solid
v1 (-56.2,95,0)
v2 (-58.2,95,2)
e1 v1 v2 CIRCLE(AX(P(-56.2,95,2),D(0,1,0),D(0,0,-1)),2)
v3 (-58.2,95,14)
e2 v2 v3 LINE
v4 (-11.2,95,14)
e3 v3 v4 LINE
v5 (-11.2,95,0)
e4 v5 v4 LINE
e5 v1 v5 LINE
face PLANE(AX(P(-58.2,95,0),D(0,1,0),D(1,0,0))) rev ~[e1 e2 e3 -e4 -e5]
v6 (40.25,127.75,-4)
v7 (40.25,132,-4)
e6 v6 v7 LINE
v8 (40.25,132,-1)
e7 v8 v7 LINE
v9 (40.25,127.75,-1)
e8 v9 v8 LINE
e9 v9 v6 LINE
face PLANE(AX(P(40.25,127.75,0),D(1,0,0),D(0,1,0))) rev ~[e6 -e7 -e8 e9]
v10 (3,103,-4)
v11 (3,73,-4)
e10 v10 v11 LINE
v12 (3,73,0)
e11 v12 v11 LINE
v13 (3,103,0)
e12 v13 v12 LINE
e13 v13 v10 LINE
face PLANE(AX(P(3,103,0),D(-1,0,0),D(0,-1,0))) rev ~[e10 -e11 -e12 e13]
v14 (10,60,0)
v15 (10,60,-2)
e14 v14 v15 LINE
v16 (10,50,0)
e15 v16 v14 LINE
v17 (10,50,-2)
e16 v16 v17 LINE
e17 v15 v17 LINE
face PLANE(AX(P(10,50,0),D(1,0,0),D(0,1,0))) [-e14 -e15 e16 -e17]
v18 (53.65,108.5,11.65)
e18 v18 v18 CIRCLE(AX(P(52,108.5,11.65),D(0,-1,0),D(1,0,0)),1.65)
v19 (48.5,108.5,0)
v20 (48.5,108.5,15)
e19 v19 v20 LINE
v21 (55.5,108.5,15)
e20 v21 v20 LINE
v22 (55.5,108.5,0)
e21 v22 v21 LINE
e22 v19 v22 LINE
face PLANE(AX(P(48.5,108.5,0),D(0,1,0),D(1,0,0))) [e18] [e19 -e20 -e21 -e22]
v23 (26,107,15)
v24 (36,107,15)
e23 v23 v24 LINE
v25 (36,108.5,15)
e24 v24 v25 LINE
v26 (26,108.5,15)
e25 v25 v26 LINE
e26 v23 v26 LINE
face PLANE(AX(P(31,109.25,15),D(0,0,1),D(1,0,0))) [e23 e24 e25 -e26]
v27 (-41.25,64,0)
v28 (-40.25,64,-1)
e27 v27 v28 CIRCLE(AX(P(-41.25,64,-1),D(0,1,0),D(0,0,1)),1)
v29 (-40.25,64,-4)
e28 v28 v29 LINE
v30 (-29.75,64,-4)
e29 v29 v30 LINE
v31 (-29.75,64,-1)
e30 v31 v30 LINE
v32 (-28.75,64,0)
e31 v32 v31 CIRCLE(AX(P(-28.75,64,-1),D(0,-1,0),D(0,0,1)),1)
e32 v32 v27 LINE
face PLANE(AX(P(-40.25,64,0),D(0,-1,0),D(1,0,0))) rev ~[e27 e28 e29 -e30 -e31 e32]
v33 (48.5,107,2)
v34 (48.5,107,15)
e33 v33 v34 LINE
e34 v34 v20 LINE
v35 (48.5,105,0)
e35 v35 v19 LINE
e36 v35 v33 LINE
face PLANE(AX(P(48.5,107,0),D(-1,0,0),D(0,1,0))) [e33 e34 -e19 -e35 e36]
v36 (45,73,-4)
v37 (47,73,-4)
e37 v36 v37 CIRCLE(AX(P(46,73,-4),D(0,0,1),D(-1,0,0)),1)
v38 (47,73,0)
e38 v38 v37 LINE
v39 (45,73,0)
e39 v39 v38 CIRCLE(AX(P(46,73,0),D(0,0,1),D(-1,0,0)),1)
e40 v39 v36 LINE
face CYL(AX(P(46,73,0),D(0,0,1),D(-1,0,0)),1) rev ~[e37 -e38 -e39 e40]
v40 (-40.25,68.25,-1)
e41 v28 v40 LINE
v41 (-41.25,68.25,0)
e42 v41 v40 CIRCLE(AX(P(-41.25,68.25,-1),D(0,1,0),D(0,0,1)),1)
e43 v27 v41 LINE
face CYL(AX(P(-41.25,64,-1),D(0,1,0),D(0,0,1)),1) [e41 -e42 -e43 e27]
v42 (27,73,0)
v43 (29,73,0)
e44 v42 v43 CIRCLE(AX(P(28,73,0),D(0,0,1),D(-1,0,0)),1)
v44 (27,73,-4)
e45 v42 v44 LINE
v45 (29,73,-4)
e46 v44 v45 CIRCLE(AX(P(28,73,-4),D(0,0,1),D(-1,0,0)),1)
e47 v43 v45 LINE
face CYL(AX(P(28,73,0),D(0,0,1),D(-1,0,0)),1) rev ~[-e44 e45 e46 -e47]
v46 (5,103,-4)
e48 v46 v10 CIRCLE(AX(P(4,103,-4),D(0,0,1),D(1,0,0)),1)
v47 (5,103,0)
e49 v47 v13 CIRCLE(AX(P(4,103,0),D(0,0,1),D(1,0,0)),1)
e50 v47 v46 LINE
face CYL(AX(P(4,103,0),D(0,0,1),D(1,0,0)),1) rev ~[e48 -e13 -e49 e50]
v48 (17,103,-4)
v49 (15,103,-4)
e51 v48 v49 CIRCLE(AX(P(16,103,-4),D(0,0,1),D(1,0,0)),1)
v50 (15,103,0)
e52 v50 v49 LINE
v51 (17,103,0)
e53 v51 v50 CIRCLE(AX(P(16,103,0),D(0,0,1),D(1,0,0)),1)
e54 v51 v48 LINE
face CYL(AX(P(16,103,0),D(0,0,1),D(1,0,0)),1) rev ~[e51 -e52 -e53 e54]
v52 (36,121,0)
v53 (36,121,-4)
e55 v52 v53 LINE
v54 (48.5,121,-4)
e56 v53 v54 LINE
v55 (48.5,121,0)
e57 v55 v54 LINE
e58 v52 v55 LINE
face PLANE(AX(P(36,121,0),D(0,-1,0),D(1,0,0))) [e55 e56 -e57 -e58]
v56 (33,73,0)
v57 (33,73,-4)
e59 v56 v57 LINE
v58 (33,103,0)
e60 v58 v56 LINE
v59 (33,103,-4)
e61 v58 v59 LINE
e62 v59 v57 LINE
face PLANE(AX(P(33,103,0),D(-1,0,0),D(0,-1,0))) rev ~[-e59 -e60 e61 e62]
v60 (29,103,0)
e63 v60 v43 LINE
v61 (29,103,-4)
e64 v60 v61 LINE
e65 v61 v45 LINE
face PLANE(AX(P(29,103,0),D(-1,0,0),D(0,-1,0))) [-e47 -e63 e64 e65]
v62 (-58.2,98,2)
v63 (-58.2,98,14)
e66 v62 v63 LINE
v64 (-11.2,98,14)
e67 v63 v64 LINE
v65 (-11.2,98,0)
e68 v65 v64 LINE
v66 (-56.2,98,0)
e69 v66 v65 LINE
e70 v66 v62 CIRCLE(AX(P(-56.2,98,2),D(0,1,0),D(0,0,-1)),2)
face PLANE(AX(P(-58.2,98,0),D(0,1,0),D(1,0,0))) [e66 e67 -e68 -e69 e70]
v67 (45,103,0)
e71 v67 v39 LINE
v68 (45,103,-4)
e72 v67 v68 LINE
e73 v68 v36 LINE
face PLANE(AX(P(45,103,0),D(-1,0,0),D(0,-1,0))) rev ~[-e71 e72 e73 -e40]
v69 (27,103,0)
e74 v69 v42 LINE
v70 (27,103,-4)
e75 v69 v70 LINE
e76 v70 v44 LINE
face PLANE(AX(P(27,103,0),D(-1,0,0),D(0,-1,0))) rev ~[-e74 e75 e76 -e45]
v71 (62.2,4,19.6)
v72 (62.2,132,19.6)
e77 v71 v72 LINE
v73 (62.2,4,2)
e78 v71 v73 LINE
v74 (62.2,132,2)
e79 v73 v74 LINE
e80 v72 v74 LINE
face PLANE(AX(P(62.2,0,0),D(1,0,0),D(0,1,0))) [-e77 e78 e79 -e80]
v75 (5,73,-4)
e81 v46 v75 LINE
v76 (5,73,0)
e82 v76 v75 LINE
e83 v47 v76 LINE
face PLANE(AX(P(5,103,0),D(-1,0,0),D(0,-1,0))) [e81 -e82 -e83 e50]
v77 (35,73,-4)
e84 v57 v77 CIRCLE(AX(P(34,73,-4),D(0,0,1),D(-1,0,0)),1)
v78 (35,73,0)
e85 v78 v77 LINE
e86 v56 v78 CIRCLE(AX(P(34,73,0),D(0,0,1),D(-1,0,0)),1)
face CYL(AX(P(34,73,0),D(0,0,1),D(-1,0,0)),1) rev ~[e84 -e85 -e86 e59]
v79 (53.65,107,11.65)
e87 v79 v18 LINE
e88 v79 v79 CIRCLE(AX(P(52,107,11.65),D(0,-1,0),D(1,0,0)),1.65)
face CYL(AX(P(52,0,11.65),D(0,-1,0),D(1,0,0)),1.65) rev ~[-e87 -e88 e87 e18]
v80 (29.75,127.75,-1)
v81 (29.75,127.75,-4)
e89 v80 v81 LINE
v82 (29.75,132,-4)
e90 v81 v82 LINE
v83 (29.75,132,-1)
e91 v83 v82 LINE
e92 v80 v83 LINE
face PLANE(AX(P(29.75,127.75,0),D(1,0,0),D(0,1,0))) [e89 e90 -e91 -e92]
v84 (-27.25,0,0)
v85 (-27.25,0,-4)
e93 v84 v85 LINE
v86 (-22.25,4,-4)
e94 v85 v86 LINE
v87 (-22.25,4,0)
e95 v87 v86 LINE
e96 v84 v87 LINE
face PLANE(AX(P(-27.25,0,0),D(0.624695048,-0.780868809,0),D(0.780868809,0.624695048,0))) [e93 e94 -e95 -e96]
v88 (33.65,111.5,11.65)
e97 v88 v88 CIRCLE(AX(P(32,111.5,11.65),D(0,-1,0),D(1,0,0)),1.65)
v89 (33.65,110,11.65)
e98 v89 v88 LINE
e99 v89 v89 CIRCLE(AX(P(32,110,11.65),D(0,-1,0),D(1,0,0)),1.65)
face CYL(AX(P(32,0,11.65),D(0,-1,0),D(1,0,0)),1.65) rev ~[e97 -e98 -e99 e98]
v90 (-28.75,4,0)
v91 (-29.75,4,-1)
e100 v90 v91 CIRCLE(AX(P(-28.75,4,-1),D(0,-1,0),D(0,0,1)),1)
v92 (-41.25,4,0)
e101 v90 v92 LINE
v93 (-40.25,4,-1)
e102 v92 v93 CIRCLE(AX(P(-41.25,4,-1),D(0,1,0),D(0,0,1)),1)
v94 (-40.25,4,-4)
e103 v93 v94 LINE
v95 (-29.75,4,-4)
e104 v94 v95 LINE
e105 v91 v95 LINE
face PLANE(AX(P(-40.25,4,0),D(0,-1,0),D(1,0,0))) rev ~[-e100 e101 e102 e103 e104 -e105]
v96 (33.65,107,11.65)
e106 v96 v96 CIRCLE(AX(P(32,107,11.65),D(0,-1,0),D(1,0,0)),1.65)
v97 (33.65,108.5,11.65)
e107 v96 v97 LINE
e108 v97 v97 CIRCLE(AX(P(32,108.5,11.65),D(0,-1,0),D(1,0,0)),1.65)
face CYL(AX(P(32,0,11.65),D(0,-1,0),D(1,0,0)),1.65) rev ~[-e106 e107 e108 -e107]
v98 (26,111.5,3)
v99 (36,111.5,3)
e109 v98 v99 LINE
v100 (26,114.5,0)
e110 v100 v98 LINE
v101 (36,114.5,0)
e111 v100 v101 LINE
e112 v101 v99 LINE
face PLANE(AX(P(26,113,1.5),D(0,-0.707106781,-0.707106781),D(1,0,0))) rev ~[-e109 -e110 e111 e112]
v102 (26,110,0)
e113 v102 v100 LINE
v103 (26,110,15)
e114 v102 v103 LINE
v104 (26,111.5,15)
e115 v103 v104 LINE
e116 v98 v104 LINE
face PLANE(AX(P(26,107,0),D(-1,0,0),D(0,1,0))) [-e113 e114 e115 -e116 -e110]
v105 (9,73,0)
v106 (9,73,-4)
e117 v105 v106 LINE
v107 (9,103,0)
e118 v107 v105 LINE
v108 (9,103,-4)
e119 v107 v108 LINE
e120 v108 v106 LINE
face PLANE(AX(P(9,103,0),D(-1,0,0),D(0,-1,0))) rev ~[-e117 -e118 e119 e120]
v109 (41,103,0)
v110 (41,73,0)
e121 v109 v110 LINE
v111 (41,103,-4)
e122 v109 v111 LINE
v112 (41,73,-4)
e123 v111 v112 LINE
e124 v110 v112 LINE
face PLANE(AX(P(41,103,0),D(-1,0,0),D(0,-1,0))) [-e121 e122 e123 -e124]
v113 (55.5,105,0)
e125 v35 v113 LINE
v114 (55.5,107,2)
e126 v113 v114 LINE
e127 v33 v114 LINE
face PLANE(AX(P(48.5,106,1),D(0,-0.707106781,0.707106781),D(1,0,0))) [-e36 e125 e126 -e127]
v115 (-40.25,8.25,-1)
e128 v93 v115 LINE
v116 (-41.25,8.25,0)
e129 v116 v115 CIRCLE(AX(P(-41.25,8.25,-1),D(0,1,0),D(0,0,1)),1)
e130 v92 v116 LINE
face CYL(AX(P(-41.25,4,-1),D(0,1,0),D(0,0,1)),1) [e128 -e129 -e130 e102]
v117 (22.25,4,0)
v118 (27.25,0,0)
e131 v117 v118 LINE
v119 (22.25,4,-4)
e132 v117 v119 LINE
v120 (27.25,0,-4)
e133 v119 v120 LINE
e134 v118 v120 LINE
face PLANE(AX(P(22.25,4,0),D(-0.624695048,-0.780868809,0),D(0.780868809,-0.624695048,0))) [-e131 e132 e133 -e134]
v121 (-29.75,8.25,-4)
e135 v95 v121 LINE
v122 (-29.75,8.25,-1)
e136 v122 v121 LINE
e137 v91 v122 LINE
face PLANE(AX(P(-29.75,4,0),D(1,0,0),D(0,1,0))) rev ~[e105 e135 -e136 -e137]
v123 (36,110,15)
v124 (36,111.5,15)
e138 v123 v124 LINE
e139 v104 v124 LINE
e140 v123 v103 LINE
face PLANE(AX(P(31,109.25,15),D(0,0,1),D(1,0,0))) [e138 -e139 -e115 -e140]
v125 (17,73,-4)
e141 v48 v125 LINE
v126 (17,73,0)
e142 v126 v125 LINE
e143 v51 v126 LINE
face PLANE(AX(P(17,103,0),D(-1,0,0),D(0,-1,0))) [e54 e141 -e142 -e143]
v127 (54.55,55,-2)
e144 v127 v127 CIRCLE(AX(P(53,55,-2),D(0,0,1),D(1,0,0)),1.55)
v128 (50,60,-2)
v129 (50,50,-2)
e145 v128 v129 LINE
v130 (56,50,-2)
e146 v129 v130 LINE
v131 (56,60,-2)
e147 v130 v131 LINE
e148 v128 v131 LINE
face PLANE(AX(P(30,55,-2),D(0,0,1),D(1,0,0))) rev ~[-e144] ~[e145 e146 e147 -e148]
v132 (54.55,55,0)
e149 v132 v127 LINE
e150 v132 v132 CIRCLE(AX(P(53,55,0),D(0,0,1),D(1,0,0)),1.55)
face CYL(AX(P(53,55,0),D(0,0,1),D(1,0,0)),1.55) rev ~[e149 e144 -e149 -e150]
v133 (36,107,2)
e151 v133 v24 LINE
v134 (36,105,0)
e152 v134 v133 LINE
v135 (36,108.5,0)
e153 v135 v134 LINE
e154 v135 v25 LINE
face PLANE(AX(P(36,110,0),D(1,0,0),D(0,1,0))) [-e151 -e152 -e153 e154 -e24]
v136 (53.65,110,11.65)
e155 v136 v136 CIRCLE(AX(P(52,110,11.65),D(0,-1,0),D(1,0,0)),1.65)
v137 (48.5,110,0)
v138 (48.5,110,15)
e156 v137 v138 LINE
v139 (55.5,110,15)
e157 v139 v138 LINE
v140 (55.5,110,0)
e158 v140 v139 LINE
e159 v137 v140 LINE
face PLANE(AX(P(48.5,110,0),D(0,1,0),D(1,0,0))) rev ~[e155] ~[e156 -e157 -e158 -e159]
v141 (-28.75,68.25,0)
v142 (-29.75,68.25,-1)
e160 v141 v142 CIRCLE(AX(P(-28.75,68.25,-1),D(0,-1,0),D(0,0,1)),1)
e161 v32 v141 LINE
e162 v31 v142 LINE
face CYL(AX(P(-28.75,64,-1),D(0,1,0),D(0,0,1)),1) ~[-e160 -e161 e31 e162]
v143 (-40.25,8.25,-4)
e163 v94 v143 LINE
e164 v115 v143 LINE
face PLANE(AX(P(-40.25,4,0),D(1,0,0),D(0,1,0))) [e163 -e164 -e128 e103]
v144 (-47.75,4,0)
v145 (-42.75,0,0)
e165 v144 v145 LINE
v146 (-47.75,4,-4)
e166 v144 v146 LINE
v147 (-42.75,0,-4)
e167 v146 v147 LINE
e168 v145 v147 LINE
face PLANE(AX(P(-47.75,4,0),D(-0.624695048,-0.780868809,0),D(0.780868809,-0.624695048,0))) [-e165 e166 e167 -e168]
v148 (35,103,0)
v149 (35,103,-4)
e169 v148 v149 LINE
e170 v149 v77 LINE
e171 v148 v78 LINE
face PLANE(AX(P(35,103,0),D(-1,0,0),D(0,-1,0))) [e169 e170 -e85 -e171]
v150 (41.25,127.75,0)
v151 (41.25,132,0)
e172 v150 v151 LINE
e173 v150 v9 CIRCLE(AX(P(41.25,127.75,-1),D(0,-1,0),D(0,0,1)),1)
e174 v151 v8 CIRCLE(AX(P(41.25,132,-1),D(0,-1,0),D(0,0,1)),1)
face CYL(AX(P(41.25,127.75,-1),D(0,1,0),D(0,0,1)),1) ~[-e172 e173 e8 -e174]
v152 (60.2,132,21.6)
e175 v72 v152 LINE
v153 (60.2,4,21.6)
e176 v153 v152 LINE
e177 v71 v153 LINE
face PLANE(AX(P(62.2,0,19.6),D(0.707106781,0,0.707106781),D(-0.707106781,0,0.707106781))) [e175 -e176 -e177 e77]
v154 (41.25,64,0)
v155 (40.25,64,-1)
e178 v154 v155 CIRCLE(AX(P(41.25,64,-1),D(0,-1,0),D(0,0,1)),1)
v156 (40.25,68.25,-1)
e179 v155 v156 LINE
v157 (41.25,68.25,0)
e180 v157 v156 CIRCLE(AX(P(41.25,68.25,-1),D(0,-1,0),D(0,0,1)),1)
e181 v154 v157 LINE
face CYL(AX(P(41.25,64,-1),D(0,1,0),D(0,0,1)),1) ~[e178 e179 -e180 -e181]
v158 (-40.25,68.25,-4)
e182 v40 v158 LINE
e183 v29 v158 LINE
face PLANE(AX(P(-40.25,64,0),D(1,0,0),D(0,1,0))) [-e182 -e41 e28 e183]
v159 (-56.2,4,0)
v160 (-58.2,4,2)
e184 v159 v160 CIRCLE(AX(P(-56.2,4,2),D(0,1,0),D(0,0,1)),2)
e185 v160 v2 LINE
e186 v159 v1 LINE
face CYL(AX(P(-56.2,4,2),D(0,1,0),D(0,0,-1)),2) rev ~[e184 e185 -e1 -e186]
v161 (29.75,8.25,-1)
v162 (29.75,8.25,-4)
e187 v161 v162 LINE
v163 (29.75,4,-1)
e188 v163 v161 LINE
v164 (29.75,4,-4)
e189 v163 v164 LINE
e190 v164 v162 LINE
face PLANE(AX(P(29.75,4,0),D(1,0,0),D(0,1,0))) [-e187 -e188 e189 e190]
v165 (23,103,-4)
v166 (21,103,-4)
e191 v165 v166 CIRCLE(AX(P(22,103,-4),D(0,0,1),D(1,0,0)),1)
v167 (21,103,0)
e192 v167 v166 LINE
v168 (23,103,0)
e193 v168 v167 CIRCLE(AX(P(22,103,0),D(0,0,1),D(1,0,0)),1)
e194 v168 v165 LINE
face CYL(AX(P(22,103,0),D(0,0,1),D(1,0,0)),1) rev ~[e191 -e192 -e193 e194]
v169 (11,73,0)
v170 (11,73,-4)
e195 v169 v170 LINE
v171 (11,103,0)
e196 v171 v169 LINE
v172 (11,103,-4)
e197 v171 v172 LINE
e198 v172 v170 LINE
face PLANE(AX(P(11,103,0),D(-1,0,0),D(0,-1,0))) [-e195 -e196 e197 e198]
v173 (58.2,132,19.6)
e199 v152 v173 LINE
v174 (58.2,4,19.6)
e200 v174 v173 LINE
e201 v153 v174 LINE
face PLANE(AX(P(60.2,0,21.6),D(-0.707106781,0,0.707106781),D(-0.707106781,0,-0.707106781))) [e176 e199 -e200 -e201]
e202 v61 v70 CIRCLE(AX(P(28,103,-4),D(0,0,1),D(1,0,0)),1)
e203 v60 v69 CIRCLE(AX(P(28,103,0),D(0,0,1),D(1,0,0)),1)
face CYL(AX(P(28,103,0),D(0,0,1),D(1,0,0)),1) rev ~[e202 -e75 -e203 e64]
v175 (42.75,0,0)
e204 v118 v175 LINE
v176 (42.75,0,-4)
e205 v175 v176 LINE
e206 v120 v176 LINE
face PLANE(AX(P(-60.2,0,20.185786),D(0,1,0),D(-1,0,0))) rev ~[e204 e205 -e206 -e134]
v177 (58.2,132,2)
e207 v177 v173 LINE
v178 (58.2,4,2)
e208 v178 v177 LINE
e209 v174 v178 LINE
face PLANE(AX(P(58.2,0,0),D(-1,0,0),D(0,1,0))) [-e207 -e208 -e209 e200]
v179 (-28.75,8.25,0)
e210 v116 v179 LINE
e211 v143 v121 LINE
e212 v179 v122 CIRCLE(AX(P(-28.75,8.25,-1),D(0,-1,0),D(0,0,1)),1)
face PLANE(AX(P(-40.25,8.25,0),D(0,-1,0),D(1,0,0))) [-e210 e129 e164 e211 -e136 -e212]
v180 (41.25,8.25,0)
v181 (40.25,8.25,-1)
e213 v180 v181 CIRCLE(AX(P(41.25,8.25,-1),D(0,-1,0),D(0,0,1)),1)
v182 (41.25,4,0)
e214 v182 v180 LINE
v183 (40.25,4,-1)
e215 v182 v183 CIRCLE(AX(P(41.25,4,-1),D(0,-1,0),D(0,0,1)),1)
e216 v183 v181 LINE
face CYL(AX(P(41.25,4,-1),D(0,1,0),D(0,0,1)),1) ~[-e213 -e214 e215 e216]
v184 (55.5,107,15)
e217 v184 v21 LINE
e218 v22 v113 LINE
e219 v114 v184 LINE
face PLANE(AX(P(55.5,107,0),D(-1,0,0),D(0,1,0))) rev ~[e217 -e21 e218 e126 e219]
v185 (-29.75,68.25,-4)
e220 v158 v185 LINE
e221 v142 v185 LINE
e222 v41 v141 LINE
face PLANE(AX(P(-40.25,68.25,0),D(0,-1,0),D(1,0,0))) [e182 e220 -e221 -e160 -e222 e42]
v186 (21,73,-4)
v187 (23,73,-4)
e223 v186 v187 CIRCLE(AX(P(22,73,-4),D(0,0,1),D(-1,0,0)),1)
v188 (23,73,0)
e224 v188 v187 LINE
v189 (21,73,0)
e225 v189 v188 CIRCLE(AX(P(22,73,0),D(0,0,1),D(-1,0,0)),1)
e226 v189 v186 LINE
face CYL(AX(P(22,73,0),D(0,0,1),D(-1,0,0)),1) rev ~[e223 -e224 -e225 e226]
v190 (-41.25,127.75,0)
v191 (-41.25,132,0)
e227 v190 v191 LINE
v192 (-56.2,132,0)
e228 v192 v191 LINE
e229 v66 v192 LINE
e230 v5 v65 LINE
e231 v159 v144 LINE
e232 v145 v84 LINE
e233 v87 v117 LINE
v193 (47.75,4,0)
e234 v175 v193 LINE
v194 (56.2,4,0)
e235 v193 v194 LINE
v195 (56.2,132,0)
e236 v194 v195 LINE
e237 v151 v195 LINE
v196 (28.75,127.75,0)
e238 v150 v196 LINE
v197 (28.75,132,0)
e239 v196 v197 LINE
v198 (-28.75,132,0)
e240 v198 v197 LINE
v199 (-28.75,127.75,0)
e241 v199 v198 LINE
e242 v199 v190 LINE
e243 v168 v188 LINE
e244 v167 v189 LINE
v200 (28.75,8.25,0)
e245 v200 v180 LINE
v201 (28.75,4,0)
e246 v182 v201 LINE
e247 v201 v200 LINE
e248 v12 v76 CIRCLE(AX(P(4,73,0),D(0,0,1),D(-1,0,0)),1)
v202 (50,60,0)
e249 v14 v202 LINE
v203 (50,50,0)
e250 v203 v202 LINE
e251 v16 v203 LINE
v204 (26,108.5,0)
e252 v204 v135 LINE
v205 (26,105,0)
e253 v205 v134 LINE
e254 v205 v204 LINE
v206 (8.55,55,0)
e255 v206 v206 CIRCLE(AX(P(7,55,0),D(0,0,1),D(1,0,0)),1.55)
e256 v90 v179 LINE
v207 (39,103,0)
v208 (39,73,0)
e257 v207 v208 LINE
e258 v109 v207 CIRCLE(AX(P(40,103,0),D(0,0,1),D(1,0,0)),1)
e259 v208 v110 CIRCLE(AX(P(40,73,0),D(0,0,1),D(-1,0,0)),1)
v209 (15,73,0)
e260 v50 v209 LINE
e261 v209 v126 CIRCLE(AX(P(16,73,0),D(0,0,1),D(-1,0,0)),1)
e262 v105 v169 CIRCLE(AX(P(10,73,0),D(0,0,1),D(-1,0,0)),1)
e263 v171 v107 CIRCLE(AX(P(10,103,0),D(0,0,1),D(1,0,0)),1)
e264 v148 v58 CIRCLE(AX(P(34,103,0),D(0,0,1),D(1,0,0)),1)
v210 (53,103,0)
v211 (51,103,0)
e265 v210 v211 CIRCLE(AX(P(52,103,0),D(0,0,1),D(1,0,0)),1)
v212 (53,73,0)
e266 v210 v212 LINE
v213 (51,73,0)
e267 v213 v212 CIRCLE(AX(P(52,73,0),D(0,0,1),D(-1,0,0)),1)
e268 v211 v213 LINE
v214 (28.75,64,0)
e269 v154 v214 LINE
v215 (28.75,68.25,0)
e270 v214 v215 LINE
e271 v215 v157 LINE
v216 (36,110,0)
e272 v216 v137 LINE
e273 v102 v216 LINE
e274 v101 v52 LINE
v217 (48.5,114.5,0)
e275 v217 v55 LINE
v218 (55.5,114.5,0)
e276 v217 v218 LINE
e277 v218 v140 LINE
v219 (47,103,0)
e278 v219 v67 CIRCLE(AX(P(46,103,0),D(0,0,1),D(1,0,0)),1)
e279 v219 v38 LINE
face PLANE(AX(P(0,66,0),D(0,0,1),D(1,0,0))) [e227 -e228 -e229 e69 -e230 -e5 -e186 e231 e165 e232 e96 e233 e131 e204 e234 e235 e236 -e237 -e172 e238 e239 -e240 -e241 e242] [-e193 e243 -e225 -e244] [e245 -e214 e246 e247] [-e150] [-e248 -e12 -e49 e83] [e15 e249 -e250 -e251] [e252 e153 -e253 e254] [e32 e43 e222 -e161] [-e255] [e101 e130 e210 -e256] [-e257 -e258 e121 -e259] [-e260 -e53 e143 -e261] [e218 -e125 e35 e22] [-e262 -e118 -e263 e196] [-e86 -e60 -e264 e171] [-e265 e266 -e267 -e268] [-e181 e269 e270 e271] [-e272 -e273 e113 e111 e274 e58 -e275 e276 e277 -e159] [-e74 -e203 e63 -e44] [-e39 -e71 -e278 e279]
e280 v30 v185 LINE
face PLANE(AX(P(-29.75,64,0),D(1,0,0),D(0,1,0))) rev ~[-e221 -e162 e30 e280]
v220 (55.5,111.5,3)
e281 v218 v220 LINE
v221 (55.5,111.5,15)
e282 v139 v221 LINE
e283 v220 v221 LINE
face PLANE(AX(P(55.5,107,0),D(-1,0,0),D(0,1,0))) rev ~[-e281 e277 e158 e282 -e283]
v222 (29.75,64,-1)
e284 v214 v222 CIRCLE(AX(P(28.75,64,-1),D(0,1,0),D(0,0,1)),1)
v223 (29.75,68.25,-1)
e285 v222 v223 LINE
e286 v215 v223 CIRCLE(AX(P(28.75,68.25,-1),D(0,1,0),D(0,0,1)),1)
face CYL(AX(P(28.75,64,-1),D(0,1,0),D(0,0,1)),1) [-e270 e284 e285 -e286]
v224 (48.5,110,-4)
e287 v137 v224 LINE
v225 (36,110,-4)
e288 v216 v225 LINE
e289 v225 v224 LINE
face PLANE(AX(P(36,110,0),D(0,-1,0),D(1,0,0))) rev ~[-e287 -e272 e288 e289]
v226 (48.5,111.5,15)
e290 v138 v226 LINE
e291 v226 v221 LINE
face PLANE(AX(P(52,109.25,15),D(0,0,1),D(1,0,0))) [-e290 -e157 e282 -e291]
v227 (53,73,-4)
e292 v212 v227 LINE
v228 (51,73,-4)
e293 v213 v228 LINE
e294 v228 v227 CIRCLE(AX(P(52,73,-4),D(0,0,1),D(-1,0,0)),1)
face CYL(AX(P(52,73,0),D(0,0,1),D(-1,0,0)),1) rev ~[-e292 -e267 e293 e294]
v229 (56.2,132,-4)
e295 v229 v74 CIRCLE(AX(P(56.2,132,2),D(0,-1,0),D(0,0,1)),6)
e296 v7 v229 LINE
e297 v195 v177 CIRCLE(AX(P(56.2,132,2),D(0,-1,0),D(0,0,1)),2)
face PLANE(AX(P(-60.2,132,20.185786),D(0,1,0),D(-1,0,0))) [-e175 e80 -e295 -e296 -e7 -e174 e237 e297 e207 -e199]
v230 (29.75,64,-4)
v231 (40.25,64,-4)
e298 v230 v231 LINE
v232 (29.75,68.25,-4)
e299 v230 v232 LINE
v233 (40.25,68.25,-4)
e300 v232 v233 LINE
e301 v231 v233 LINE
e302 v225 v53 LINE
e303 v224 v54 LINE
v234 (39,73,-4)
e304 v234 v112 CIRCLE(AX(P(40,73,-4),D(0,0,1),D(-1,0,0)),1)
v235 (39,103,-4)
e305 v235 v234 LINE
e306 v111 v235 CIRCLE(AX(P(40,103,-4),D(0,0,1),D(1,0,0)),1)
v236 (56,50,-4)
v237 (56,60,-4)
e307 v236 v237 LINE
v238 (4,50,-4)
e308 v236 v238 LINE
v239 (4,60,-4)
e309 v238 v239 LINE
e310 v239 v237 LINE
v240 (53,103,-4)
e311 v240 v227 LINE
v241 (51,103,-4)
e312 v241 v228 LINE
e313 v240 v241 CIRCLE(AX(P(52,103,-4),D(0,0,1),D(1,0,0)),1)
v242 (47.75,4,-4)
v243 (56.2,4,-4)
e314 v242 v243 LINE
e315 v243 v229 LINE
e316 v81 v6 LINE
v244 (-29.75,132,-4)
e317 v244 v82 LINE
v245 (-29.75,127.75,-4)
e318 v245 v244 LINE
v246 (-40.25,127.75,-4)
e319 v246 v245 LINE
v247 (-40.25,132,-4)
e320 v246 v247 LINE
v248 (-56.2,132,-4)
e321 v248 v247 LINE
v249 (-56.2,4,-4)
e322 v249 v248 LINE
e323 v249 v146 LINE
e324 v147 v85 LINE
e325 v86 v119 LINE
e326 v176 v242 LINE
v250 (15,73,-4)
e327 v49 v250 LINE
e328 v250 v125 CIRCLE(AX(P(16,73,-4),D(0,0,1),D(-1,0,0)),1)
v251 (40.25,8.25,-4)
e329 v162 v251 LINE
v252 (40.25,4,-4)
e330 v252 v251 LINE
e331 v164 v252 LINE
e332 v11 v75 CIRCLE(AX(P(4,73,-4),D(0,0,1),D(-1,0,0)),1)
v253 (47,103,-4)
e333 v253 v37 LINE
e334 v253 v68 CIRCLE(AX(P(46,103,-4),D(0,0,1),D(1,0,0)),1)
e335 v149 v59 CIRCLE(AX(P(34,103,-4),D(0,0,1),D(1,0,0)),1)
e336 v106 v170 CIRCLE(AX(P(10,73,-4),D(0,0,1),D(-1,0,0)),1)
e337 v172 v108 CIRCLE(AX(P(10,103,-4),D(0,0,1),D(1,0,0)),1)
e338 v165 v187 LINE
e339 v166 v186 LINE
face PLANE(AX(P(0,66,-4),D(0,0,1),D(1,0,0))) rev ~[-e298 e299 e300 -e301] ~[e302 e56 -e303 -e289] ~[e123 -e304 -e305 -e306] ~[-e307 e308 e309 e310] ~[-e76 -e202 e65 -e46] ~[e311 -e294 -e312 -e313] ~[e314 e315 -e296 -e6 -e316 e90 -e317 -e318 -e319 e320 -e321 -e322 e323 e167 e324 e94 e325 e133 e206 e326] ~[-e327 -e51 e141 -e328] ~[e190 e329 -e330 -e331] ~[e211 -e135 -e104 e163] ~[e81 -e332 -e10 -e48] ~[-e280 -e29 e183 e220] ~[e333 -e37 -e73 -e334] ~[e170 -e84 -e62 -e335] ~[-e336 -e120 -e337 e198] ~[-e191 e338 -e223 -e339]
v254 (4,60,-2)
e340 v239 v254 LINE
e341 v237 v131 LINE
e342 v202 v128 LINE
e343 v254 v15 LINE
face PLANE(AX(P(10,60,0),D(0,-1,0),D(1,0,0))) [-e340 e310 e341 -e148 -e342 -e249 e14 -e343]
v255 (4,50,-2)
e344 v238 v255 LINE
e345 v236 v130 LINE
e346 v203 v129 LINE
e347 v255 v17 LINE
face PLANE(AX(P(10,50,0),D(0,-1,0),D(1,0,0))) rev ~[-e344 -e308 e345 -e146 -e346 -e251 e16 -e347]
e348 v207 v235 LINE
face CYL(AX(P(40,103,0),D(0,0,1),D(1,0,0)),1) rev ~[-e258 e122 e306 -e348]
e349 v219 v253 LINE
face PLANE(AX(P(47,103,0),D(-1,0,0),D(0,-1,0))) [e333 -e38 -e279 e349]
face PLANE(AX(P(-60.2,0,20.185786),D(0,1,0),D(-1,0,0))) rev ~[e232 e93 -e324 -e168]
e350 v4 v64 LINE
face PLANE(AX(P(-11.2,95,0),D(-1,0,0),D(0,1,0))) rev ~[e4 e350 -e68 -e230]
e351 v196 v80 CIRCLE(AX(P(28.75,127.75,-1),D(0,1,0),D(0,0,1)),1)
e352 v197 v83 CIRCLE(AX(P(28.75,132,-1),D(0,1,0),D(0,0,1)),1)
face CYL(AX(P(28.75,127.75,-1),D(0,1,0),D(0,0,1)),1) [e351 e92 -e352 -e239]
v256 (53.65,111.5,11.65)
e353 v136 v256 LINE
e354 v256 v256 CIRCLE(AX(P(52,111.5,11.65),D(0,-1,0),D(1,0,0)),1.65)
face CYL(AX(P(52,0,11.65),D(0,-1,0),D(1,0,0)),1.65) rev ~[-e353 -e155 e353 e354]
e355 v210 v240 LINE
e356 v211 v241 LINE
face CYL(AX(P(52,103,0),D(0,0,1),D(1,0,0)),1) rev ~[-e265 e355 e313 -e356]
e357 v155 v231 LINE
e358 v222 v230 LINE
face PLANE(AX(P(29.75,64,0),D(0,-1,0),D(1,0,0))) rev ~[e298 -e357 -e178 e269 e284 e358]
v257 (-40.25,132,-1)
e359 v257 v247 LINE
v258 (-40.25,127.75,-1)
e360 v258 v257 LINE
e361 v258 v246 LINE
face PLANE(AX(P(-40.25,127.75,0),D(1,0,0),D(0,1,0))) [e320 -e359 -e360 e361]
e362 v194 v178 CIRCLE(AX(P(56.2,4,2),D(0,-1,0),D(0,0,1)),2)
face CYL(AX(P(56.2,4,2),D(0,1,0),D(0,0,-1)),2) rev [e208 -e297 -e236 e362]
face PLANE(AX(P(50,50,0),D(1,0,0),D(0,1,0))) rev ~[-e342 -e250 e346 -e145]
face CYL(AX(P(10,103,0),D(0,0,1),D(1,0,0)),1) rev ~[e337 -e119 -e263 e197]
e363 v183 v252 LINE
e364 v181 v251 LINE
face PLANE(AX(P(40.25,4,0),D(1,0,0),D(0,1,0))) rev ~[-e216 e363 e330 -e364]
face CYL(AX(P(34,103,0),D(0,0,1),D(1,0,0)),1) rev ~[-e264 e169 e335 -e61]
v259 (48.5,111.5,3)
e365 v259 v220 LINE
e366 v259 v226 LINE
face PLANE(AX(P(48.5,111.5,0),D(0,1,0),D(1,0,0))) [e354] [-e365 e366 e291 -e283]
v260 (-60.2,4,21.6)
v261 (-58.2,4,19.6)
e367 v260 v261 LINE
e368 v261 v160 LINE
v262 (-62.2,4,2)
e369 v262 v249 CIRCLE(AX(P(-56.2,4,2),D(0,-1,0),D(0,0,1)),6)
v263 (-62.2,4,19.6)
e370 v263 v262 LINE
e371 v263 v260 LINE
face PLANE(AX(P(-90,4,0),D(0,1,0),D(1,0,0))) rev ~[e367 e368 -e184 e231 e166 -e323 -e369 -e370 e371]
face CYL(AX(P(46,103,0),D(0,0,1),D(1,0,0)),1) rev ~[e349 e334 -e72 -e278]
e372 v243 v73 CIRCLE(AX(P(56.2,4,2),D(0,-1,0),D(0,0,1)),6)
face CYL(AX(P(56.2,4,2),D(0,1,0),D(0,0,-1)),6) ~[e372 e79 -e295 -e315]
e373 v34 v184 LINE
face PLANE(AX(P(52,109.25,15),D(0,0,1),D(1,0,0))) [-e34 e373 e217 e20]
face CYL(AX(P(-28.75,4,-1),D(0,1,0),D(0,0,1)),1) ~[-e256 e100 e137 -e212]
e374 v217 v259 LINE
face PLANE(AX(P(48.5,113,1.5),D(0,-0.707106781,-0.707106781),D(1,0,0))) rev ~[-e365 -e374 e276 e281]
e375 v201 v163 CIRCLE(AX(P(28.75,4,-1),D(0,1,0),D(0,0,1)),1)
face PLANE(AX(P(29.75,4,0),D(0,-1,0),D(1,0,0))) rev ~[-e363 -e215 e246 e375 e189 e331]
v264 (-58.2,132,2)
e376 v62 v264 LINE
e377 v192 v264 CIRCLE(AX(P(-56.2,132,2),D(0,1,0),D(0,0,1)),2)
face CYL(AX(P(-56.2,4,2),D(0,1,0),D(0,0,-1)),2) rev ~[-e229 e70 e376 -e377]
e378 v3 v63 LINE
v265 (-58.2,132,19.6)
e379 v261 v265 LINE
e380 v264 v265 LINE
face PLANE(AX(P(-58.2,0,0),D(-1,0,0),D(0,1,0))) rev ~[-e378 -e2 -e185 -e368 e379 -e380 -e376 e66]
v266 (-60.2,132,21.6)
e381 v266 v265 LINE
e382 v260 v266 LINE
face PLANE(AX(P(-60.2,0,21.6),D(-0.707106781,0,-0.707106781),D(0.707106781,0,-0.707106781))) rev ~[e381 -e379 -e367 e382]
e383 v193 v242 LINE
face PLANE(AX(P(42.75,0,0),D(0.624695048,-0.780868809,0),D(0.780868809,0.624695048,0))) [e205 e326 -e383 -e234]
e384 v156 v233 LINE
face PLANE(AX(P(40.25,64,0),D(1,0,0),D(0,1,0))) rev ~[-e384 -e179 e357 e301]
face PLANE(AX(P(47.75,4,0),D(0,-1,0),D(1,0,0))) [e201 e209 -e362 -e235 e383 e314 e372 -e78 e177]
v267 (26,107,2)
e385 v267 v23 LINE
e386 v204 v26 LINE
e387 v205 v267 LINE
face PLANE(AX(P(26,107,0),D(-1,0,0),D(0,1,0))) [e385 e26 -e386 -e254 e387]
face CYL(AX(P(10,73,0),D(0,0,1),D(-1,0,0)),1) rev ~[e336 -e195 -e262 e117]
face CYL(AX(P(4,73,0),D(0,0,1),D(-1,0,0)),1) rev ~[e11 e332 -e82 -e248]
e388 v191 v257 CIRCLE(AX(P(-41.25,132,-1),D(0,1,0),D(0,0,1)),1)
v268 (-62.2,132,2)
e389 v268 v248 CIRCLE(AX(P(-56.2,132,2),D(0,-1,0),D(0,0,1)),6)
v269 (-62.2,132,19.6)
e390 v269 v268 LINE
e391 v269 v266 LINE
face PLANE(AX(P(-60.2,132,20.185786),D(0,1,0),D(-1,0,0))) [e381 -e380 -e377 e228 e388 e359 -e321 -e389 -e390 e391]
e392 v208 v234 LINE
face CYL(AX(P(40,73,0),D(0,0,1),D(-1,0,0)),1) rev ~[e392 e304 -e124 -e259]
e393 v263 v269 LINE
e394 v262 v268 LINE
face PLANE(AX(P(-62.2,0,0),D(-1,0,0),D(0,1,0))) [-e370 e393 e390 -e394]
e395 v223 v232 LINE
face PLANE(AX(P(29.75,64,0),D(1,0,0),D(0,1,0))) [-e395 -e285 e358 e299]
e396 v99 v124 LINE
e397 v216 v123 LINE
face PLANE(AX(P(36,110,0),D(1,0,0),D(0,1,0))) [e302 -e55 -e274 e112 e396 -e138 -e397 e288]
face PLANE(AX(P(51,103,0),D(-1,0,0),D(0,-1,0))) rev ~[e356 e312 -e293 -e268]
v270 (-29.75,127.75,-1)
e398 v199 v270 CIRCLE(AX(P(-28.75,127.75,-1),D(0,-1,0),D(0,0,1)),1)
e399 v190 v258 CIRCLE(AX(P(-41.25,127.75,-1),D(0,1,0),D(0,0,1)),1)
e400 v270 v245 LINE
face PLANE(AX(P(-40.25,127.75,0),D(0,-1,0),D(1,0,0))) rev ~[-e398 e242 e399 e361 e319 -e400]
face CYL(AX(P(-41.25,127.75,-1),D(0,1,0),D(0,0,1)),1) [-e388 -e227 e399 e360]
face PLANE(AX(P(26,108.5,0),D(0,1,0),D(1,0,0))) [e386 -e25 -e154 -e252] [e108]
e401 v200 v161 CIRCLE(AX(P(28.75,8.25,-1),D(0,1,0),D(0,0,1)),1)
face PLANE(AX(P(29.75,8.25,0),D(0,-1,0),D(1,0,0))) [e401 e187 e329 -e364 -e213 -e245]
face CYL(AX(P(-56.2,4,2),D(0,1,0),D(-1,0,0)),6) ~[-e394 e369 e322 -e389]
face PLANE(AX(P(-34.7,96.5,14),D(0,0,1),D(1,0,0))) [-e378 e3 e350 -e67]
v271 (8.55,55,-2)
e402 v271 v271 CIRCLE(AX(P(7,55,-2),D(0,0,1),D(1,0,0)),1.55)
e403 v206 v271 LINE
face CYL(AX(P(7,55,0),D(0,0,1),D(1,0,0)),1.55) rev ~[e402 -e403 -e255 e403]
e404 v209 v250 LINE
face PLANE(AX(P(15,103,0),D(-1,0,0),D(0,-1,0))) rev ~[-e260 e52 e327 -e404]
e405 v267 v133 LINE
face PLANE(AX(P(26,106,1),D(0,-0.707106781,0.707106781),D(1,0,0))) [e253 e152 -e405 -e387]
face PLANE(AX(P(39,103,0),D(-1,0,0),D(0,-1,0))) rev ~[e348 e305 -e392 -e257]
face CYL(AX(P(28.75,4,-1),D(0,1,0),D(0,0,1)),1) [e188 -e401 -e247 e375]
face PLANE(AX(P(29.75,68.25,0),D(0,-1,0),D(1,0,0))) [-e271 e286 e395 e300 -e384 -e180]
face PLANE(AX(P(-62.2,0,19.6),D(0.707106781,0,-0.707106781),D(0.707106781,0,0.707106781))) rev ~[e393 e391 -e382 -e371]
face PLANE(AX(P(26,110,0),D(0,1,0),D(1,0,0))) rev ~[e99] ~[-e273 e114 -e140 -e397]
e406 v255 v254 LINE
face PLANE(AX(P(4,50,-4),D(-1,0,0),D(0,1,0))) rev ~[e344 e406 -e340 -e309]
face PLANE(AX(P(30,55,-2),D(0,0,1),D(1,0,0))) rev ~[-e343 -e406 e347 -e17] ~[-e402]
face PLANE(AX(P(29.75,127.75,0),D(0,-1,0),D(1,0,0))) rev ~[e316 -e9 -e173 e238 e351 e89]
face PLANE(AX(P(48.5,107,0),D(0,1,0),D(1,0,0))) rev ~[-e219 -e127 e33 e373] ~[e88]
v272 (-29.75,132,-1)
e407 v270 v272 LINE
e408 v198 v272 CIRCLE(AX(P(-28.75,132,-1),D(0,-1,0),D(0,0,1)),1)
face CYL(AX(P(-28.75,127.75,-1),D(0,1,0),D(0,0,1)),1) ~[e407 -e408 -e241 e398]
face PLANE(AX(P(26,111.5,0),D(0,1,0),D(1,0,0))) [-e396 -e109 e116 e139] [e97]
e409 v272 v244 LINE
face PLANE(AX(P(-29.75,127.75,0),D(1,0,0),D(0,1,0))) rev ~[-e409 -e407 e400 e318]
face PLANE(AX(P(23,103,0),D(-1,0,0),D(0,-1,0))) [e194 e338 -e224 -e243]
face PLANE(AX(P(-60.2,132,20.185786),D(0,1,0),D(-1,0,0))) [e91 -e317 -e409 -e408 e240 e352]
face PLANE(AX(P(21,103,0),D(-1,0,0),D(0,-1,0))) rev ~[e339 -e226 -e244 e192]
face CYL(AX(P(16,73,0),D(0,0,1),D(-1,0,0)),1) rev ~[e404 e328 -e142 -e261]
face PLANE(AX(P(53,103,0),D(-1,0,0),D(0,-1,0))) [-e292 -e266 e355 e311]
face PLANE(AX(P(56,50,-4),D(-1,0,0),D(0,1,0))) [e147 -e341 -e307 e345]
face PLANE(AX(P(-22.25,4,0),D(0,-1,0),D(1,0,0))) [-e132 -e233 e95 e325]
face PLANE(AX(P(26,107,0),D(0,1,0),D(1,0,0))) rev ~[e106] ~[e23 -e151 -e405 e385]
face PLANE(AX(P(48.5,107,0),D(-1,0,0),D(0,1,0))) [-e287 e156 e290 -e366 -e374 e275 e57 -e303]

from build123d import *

# Parameters (mm, degrees)
SKETCH_W          = 124.4
SKETCH_H          = 132
PAD_DEPTH         = 4
SKETCH001_W       = 4
SKETCH001_H       = 132
PAD001_DEPTH      = 19.6
PAD002_DEPTH      = 132
SKETCH003_W       = 10.5
SKETCH003_H       = 4.25
POCKET_DEPTH      = 4.001
POCKET_DEPTH_BACK = 21.601
FILLET_R          = 6
FILLET001_R       = 2
FILLET002_R       = 1
SKETCH004_W       = 47
SKETCH004_H       = 3
PAD003_DEPTH      = 14
SKETCH005_R       = 1.55
SKETCH005_W       = 40
SKETCH005_H       = 10
POCKET001_DEPTH   = 4.001
SKETCH006_W       = 52
SKETCH006_H       = 10
POCKET002_DEPTH   = 2
SKETCH007_W       = 12.5
SKETCH007_H       = 11
POCKET003_DEPTH   = 4.001
SKETCH008_W       = 7
SKETCH008_H       = 4.5
SKETCH008_W_2     = 10
PAD004_DEPTH      = 15
SKETCH009_W       = 7
SKETCH009_H       = 1.5
SKETCH009_W_2     = 10
POCKET004_DEPTH   = 21.601
SKETCH010_R       = 1.65
POCKET005_DEPTH   = 132.001
POCKET006_DEPTH   = 4.001
CHAMFER_SIZE      = 3
CHAMFER001_SIZE   = 2


with BuildPart() as part:
    # Sketch → Pad (new body)
    with BuildSketch(Plane.XY):
        with Locations((0, 66)):
            Rectangle(SKETCH_W, SKETCH_H)
    extrude(amount=-PAD_DEPTH)

    # Sketch001 → Pad001 (join)
    with BuildSketch(Plane.XY):
        with Locations((-60.2, 66)):
            Rectangle(SKETCH001_W, SKETCH001_H)
        with Locations((60.2, 66)):
            Rectangle(SKETCH001_W, SKETCH001_H)
    extrude(amount=PAD001_DEPTH)

    # Sketch002 → Pad002 (join)
    with BuildSketch(Plane.XZ):
        Polygon((-58.2, 19.6), (-62.2, 19.6), (-60.2, 21.6), align=None)
        Polygon((58.2, 19.6), (62.2, 19.6), (60.2, 21.6), align=None)
    extrude(amount=-PAD002_DEPTH)

    # Sketch003 → Pocket (cut, two sides)
    with BuildSketch(Plane.XY) as pocket_sk:
        with Locations((-35, 6.125)):
            Rectangle(SKETCH003_W, SKETCH003_H)
        with Locations((-35, 66.125)):
            Rectangle(SKETCH003_W, SKETCH003_H)
        with Locations((-35, 129.875)):
            Rectangle(SKETCH003_W, SKETCH003_H)
        with Locations((35, 6.125)):
            Rectangle(SKETCH003_W, SKETCH003_H)
        with Locations((35, 66.125)):
            Rectangle(SKETCH003_W, SKETCH003_H)
        with Locations((35, 129.875)):
            Rectangle(SKETCH003_W, SKETCH003_H)
        Polygon((-42.75, 0), (-27.25, 0), (-22.25, 4), (22.25, 4), (27.25, 0), (42.75, 0), (47.75, 4), (90, 4), (90, -46), (-90, -46), (-90, 4), (-47.75, 4), align=None)
    extrude(amount=-POCKET_DEPTH, mode=Mode.SUBTRACT)
    extrude(pocket_sk.sketch, amount=POCKET_DEPTH_BACK, mode=Mode.SUBTRACT)

    # Fillet
    fillet_edges = [part.edges().sort_by_distance(p)[0] for p in [
        (-62.2, 68, -4),
        (62.2, 68, -4),
    ]]
    fillet(fillet_edges, radius=FILLET_R)

    # Fillet001
    fillet001_edges = [part.edges().sort_by_distance(p)[0] for p in [
        (-58.2, 68, 0),
        (58.2, 68, 0),
    ]]
    fillet(fillet001_edges, radius=FILLET001_R)

    # Fillet002
    fillet002_edges = [part.edges().sort_by_distance(p)[0] for p in [
        (-40.25, 129.875, 0),
        (-29.75, 129.875, 0),
        (29.75, 129.875, 0),
        (40.25, 129.875, 0),
        (29.75, 66.125, 0),
        (40.25, 66.125, 0),
        (29.75, 6.125, 0),
        (40.25, 6.125, 0),
        (-40.25, 6.125, 0),
        (-29.75, 6.125, 0),
        (-40.25, 66.125, 0),
        (-29.75, 66.125, 0),
    ]]
    fillet(fillet002_edges, radius=FILLET002_R)

    # Sketch004 → Pad003 (new body)
    with BuildSketch(Plane.XY):
        with Locations((-34.7, 96.5)):
            Rectangle(SKETCH004_W, SKETCH004_H)
    extrude(amount=PAD003_DEPTH)

    # Sketch005 → Pocket001 (cut, through all)
    with BuildSketch(Plane.XY):
        with Locations((7, 55)):
            Circle(SKETCH005_R)
        with Locations((53, 55)):
            Circle(SKETCH005_R)
        with Locations((30, 55)):
            Rectangle(SKETCH005_W, SKETCH005_H)
    extrude(amount=-POCKET001_DEPTH, mode=Mode.SUBTRACT)

    # Sketch006 (on DatumPlane) → Pocket002 (cut)
    with BuildSketch(Plane.XY.offset(-4)):
        with Locations((30, 55)):
            Rectangle(SKETCH006_W, SKETCH006_H)
    extrude(amount=POCKET002_DEPTH, mode=Mode.SUBTRACT)

    # Sketch007 → Pocket003 (cut, through all)
    with BuildSketch(Plane.XY):
        with Locations((42.25, 115.5)):
            Rectangle(SKETCH007_W, SKETCH007_H)
    extrude(amount=-POCKET003_DEPTH, mode=Mode.SUBTRACT)

    # Sketch008 → Pad004 (join)
    with BuildSketch(Plane.XY):
        with Locations((52, 109.25)):
            Rectangle(SKETCH008_W, SKETCH008_H)
        with Locations((31, 109.25)):
            Rectangle(SKETCH008_W_2, SKETCH008_H)
    extrude(amount=PAD004_DEPTH)

    # Sketch009 → Pocket004 (cut, through all)
    with BuildSketch(Plane.XY):
        with Locations((52, 109.25)):
            Rectangle(SKETCH009_W, SKETCH009_H)
        with Locations((31, 109.25)):
            Rectangle(SKETCH009_W_2, SKETCH009_H)
    extrude(amount=POCKET004_DEPTH, mode=Mode.SUBTRACT)

    # Sketch010 → Pocket005 (cut, through all)
    with BuildSketch(Plane.XZ):
        with Locations((32, 11.65)):
            Circle(SKETCH010_R)
        with Locations((52, 11.65)):
            Circle(SKETCH010_R)
    extrude(amount=-POCKET005_DEPTH, mode=Mode.SUBTRACT)

    # Sketch011 → Pocket006 (cut, through all)
    with BuildSketch(Plane.XY):
        with BuildLine():
            ThreePointArc((5, 103), (4, 104), (3, 103))
            Line((3, 103), (3, 73))
            ThreePointArc((3, 73), (4, 72), (5, 73))
            Line((5, 103), (5, 73))
        make_face()
        with BuildLine():
            ThreePointArc((11, 103), (10, 104), (9, 103))
            Line((9, 103), (9, 73))
            ThreePointArc((9, 73), (10, 72), (11, 73))
            Line((11, 103), (11, 73))
        make_face()
        with BuildLine():
            ThreePointArc((17, 103), (16, 104), (15, 103))
            Line((15, 103), (15, 73))
            ThreePointArc((15, 73), (16, 72), (17, 73))
            Line((17, 103), (17, 73))
        make_face()
        with BuildLine():
            ThreePointArc((23, 103), (22, 104), (21, 103))
            Line((21, 103), (21, 73))
            ThreePointArc((21, 73), (22, 72), (23, 73))
            Line((23, 103), (23, 73))
        make_face()
        with BuildLine():
            ThreePointArc((29, 103), (28, 104), (27, 103))
            Line((27, 103), (27, 73))
            ThreePointArc((27, 73), (28, 72), (29, 73))
            Line((29, 103), (29, 73))
        make_face()
        with BuildLine():
            ThreePointArc((35, 103), (34, 104), (33, 103))
            Line((33, 103), (33, 73))
            ThreePointArc((33, 73), (34, 72), (35, 73))
            Line((35, 103), (35, 73))
        make_face()
        with BuildLine():
            ThreePointArc((41, 103), (40, 104), (39, 103))
            Line((39, 103), (39, 73))
            ThreePointArc((39, 73), (40, 72), (41, 73))
            Line((41, 103), (41, 73))
        make_face()
        with BuildLine():
            ThreePointArc((47, 103), (46, 104), (45, 103))
            Line((45, 103), (45, 73))
            ThreePointArc((45, 73), (46, 72), (47, 73))
            Line((47, 103), (47, 73))
        make_face()
        with BuildLine():
            ThreePointArc((53, 103), (52, 104), (51, 103))
            Line((51, 103), (51, 73))
            ThreePointArc((51, 73), (52, 72), (53, 73))
            Line((53, 103), (53, 73))
        make_face()
    extrude(amount=-POCKET006_DEPTH, mode=Mode.SUBTRACT)

    # Chamfer
    chamfer_edges = [part.edges().sort_by_distance(p)[0] for p in [
        (31, 111.5, 0),
        (52, 111.5, 0),
    ]]
    chamfer(chamfer_edges, length=CHAMFER_SIZE)

    # Chamfer001
    chamfer001_edges = [part.edges().sort_by_distance(p)[0] for p in [
        (31, 107, 0),
        (52, 107, 0),
    ]]
    chamfer(chamfer001_edges, length=CHAMFER001_SIZE)


solid = part.part
